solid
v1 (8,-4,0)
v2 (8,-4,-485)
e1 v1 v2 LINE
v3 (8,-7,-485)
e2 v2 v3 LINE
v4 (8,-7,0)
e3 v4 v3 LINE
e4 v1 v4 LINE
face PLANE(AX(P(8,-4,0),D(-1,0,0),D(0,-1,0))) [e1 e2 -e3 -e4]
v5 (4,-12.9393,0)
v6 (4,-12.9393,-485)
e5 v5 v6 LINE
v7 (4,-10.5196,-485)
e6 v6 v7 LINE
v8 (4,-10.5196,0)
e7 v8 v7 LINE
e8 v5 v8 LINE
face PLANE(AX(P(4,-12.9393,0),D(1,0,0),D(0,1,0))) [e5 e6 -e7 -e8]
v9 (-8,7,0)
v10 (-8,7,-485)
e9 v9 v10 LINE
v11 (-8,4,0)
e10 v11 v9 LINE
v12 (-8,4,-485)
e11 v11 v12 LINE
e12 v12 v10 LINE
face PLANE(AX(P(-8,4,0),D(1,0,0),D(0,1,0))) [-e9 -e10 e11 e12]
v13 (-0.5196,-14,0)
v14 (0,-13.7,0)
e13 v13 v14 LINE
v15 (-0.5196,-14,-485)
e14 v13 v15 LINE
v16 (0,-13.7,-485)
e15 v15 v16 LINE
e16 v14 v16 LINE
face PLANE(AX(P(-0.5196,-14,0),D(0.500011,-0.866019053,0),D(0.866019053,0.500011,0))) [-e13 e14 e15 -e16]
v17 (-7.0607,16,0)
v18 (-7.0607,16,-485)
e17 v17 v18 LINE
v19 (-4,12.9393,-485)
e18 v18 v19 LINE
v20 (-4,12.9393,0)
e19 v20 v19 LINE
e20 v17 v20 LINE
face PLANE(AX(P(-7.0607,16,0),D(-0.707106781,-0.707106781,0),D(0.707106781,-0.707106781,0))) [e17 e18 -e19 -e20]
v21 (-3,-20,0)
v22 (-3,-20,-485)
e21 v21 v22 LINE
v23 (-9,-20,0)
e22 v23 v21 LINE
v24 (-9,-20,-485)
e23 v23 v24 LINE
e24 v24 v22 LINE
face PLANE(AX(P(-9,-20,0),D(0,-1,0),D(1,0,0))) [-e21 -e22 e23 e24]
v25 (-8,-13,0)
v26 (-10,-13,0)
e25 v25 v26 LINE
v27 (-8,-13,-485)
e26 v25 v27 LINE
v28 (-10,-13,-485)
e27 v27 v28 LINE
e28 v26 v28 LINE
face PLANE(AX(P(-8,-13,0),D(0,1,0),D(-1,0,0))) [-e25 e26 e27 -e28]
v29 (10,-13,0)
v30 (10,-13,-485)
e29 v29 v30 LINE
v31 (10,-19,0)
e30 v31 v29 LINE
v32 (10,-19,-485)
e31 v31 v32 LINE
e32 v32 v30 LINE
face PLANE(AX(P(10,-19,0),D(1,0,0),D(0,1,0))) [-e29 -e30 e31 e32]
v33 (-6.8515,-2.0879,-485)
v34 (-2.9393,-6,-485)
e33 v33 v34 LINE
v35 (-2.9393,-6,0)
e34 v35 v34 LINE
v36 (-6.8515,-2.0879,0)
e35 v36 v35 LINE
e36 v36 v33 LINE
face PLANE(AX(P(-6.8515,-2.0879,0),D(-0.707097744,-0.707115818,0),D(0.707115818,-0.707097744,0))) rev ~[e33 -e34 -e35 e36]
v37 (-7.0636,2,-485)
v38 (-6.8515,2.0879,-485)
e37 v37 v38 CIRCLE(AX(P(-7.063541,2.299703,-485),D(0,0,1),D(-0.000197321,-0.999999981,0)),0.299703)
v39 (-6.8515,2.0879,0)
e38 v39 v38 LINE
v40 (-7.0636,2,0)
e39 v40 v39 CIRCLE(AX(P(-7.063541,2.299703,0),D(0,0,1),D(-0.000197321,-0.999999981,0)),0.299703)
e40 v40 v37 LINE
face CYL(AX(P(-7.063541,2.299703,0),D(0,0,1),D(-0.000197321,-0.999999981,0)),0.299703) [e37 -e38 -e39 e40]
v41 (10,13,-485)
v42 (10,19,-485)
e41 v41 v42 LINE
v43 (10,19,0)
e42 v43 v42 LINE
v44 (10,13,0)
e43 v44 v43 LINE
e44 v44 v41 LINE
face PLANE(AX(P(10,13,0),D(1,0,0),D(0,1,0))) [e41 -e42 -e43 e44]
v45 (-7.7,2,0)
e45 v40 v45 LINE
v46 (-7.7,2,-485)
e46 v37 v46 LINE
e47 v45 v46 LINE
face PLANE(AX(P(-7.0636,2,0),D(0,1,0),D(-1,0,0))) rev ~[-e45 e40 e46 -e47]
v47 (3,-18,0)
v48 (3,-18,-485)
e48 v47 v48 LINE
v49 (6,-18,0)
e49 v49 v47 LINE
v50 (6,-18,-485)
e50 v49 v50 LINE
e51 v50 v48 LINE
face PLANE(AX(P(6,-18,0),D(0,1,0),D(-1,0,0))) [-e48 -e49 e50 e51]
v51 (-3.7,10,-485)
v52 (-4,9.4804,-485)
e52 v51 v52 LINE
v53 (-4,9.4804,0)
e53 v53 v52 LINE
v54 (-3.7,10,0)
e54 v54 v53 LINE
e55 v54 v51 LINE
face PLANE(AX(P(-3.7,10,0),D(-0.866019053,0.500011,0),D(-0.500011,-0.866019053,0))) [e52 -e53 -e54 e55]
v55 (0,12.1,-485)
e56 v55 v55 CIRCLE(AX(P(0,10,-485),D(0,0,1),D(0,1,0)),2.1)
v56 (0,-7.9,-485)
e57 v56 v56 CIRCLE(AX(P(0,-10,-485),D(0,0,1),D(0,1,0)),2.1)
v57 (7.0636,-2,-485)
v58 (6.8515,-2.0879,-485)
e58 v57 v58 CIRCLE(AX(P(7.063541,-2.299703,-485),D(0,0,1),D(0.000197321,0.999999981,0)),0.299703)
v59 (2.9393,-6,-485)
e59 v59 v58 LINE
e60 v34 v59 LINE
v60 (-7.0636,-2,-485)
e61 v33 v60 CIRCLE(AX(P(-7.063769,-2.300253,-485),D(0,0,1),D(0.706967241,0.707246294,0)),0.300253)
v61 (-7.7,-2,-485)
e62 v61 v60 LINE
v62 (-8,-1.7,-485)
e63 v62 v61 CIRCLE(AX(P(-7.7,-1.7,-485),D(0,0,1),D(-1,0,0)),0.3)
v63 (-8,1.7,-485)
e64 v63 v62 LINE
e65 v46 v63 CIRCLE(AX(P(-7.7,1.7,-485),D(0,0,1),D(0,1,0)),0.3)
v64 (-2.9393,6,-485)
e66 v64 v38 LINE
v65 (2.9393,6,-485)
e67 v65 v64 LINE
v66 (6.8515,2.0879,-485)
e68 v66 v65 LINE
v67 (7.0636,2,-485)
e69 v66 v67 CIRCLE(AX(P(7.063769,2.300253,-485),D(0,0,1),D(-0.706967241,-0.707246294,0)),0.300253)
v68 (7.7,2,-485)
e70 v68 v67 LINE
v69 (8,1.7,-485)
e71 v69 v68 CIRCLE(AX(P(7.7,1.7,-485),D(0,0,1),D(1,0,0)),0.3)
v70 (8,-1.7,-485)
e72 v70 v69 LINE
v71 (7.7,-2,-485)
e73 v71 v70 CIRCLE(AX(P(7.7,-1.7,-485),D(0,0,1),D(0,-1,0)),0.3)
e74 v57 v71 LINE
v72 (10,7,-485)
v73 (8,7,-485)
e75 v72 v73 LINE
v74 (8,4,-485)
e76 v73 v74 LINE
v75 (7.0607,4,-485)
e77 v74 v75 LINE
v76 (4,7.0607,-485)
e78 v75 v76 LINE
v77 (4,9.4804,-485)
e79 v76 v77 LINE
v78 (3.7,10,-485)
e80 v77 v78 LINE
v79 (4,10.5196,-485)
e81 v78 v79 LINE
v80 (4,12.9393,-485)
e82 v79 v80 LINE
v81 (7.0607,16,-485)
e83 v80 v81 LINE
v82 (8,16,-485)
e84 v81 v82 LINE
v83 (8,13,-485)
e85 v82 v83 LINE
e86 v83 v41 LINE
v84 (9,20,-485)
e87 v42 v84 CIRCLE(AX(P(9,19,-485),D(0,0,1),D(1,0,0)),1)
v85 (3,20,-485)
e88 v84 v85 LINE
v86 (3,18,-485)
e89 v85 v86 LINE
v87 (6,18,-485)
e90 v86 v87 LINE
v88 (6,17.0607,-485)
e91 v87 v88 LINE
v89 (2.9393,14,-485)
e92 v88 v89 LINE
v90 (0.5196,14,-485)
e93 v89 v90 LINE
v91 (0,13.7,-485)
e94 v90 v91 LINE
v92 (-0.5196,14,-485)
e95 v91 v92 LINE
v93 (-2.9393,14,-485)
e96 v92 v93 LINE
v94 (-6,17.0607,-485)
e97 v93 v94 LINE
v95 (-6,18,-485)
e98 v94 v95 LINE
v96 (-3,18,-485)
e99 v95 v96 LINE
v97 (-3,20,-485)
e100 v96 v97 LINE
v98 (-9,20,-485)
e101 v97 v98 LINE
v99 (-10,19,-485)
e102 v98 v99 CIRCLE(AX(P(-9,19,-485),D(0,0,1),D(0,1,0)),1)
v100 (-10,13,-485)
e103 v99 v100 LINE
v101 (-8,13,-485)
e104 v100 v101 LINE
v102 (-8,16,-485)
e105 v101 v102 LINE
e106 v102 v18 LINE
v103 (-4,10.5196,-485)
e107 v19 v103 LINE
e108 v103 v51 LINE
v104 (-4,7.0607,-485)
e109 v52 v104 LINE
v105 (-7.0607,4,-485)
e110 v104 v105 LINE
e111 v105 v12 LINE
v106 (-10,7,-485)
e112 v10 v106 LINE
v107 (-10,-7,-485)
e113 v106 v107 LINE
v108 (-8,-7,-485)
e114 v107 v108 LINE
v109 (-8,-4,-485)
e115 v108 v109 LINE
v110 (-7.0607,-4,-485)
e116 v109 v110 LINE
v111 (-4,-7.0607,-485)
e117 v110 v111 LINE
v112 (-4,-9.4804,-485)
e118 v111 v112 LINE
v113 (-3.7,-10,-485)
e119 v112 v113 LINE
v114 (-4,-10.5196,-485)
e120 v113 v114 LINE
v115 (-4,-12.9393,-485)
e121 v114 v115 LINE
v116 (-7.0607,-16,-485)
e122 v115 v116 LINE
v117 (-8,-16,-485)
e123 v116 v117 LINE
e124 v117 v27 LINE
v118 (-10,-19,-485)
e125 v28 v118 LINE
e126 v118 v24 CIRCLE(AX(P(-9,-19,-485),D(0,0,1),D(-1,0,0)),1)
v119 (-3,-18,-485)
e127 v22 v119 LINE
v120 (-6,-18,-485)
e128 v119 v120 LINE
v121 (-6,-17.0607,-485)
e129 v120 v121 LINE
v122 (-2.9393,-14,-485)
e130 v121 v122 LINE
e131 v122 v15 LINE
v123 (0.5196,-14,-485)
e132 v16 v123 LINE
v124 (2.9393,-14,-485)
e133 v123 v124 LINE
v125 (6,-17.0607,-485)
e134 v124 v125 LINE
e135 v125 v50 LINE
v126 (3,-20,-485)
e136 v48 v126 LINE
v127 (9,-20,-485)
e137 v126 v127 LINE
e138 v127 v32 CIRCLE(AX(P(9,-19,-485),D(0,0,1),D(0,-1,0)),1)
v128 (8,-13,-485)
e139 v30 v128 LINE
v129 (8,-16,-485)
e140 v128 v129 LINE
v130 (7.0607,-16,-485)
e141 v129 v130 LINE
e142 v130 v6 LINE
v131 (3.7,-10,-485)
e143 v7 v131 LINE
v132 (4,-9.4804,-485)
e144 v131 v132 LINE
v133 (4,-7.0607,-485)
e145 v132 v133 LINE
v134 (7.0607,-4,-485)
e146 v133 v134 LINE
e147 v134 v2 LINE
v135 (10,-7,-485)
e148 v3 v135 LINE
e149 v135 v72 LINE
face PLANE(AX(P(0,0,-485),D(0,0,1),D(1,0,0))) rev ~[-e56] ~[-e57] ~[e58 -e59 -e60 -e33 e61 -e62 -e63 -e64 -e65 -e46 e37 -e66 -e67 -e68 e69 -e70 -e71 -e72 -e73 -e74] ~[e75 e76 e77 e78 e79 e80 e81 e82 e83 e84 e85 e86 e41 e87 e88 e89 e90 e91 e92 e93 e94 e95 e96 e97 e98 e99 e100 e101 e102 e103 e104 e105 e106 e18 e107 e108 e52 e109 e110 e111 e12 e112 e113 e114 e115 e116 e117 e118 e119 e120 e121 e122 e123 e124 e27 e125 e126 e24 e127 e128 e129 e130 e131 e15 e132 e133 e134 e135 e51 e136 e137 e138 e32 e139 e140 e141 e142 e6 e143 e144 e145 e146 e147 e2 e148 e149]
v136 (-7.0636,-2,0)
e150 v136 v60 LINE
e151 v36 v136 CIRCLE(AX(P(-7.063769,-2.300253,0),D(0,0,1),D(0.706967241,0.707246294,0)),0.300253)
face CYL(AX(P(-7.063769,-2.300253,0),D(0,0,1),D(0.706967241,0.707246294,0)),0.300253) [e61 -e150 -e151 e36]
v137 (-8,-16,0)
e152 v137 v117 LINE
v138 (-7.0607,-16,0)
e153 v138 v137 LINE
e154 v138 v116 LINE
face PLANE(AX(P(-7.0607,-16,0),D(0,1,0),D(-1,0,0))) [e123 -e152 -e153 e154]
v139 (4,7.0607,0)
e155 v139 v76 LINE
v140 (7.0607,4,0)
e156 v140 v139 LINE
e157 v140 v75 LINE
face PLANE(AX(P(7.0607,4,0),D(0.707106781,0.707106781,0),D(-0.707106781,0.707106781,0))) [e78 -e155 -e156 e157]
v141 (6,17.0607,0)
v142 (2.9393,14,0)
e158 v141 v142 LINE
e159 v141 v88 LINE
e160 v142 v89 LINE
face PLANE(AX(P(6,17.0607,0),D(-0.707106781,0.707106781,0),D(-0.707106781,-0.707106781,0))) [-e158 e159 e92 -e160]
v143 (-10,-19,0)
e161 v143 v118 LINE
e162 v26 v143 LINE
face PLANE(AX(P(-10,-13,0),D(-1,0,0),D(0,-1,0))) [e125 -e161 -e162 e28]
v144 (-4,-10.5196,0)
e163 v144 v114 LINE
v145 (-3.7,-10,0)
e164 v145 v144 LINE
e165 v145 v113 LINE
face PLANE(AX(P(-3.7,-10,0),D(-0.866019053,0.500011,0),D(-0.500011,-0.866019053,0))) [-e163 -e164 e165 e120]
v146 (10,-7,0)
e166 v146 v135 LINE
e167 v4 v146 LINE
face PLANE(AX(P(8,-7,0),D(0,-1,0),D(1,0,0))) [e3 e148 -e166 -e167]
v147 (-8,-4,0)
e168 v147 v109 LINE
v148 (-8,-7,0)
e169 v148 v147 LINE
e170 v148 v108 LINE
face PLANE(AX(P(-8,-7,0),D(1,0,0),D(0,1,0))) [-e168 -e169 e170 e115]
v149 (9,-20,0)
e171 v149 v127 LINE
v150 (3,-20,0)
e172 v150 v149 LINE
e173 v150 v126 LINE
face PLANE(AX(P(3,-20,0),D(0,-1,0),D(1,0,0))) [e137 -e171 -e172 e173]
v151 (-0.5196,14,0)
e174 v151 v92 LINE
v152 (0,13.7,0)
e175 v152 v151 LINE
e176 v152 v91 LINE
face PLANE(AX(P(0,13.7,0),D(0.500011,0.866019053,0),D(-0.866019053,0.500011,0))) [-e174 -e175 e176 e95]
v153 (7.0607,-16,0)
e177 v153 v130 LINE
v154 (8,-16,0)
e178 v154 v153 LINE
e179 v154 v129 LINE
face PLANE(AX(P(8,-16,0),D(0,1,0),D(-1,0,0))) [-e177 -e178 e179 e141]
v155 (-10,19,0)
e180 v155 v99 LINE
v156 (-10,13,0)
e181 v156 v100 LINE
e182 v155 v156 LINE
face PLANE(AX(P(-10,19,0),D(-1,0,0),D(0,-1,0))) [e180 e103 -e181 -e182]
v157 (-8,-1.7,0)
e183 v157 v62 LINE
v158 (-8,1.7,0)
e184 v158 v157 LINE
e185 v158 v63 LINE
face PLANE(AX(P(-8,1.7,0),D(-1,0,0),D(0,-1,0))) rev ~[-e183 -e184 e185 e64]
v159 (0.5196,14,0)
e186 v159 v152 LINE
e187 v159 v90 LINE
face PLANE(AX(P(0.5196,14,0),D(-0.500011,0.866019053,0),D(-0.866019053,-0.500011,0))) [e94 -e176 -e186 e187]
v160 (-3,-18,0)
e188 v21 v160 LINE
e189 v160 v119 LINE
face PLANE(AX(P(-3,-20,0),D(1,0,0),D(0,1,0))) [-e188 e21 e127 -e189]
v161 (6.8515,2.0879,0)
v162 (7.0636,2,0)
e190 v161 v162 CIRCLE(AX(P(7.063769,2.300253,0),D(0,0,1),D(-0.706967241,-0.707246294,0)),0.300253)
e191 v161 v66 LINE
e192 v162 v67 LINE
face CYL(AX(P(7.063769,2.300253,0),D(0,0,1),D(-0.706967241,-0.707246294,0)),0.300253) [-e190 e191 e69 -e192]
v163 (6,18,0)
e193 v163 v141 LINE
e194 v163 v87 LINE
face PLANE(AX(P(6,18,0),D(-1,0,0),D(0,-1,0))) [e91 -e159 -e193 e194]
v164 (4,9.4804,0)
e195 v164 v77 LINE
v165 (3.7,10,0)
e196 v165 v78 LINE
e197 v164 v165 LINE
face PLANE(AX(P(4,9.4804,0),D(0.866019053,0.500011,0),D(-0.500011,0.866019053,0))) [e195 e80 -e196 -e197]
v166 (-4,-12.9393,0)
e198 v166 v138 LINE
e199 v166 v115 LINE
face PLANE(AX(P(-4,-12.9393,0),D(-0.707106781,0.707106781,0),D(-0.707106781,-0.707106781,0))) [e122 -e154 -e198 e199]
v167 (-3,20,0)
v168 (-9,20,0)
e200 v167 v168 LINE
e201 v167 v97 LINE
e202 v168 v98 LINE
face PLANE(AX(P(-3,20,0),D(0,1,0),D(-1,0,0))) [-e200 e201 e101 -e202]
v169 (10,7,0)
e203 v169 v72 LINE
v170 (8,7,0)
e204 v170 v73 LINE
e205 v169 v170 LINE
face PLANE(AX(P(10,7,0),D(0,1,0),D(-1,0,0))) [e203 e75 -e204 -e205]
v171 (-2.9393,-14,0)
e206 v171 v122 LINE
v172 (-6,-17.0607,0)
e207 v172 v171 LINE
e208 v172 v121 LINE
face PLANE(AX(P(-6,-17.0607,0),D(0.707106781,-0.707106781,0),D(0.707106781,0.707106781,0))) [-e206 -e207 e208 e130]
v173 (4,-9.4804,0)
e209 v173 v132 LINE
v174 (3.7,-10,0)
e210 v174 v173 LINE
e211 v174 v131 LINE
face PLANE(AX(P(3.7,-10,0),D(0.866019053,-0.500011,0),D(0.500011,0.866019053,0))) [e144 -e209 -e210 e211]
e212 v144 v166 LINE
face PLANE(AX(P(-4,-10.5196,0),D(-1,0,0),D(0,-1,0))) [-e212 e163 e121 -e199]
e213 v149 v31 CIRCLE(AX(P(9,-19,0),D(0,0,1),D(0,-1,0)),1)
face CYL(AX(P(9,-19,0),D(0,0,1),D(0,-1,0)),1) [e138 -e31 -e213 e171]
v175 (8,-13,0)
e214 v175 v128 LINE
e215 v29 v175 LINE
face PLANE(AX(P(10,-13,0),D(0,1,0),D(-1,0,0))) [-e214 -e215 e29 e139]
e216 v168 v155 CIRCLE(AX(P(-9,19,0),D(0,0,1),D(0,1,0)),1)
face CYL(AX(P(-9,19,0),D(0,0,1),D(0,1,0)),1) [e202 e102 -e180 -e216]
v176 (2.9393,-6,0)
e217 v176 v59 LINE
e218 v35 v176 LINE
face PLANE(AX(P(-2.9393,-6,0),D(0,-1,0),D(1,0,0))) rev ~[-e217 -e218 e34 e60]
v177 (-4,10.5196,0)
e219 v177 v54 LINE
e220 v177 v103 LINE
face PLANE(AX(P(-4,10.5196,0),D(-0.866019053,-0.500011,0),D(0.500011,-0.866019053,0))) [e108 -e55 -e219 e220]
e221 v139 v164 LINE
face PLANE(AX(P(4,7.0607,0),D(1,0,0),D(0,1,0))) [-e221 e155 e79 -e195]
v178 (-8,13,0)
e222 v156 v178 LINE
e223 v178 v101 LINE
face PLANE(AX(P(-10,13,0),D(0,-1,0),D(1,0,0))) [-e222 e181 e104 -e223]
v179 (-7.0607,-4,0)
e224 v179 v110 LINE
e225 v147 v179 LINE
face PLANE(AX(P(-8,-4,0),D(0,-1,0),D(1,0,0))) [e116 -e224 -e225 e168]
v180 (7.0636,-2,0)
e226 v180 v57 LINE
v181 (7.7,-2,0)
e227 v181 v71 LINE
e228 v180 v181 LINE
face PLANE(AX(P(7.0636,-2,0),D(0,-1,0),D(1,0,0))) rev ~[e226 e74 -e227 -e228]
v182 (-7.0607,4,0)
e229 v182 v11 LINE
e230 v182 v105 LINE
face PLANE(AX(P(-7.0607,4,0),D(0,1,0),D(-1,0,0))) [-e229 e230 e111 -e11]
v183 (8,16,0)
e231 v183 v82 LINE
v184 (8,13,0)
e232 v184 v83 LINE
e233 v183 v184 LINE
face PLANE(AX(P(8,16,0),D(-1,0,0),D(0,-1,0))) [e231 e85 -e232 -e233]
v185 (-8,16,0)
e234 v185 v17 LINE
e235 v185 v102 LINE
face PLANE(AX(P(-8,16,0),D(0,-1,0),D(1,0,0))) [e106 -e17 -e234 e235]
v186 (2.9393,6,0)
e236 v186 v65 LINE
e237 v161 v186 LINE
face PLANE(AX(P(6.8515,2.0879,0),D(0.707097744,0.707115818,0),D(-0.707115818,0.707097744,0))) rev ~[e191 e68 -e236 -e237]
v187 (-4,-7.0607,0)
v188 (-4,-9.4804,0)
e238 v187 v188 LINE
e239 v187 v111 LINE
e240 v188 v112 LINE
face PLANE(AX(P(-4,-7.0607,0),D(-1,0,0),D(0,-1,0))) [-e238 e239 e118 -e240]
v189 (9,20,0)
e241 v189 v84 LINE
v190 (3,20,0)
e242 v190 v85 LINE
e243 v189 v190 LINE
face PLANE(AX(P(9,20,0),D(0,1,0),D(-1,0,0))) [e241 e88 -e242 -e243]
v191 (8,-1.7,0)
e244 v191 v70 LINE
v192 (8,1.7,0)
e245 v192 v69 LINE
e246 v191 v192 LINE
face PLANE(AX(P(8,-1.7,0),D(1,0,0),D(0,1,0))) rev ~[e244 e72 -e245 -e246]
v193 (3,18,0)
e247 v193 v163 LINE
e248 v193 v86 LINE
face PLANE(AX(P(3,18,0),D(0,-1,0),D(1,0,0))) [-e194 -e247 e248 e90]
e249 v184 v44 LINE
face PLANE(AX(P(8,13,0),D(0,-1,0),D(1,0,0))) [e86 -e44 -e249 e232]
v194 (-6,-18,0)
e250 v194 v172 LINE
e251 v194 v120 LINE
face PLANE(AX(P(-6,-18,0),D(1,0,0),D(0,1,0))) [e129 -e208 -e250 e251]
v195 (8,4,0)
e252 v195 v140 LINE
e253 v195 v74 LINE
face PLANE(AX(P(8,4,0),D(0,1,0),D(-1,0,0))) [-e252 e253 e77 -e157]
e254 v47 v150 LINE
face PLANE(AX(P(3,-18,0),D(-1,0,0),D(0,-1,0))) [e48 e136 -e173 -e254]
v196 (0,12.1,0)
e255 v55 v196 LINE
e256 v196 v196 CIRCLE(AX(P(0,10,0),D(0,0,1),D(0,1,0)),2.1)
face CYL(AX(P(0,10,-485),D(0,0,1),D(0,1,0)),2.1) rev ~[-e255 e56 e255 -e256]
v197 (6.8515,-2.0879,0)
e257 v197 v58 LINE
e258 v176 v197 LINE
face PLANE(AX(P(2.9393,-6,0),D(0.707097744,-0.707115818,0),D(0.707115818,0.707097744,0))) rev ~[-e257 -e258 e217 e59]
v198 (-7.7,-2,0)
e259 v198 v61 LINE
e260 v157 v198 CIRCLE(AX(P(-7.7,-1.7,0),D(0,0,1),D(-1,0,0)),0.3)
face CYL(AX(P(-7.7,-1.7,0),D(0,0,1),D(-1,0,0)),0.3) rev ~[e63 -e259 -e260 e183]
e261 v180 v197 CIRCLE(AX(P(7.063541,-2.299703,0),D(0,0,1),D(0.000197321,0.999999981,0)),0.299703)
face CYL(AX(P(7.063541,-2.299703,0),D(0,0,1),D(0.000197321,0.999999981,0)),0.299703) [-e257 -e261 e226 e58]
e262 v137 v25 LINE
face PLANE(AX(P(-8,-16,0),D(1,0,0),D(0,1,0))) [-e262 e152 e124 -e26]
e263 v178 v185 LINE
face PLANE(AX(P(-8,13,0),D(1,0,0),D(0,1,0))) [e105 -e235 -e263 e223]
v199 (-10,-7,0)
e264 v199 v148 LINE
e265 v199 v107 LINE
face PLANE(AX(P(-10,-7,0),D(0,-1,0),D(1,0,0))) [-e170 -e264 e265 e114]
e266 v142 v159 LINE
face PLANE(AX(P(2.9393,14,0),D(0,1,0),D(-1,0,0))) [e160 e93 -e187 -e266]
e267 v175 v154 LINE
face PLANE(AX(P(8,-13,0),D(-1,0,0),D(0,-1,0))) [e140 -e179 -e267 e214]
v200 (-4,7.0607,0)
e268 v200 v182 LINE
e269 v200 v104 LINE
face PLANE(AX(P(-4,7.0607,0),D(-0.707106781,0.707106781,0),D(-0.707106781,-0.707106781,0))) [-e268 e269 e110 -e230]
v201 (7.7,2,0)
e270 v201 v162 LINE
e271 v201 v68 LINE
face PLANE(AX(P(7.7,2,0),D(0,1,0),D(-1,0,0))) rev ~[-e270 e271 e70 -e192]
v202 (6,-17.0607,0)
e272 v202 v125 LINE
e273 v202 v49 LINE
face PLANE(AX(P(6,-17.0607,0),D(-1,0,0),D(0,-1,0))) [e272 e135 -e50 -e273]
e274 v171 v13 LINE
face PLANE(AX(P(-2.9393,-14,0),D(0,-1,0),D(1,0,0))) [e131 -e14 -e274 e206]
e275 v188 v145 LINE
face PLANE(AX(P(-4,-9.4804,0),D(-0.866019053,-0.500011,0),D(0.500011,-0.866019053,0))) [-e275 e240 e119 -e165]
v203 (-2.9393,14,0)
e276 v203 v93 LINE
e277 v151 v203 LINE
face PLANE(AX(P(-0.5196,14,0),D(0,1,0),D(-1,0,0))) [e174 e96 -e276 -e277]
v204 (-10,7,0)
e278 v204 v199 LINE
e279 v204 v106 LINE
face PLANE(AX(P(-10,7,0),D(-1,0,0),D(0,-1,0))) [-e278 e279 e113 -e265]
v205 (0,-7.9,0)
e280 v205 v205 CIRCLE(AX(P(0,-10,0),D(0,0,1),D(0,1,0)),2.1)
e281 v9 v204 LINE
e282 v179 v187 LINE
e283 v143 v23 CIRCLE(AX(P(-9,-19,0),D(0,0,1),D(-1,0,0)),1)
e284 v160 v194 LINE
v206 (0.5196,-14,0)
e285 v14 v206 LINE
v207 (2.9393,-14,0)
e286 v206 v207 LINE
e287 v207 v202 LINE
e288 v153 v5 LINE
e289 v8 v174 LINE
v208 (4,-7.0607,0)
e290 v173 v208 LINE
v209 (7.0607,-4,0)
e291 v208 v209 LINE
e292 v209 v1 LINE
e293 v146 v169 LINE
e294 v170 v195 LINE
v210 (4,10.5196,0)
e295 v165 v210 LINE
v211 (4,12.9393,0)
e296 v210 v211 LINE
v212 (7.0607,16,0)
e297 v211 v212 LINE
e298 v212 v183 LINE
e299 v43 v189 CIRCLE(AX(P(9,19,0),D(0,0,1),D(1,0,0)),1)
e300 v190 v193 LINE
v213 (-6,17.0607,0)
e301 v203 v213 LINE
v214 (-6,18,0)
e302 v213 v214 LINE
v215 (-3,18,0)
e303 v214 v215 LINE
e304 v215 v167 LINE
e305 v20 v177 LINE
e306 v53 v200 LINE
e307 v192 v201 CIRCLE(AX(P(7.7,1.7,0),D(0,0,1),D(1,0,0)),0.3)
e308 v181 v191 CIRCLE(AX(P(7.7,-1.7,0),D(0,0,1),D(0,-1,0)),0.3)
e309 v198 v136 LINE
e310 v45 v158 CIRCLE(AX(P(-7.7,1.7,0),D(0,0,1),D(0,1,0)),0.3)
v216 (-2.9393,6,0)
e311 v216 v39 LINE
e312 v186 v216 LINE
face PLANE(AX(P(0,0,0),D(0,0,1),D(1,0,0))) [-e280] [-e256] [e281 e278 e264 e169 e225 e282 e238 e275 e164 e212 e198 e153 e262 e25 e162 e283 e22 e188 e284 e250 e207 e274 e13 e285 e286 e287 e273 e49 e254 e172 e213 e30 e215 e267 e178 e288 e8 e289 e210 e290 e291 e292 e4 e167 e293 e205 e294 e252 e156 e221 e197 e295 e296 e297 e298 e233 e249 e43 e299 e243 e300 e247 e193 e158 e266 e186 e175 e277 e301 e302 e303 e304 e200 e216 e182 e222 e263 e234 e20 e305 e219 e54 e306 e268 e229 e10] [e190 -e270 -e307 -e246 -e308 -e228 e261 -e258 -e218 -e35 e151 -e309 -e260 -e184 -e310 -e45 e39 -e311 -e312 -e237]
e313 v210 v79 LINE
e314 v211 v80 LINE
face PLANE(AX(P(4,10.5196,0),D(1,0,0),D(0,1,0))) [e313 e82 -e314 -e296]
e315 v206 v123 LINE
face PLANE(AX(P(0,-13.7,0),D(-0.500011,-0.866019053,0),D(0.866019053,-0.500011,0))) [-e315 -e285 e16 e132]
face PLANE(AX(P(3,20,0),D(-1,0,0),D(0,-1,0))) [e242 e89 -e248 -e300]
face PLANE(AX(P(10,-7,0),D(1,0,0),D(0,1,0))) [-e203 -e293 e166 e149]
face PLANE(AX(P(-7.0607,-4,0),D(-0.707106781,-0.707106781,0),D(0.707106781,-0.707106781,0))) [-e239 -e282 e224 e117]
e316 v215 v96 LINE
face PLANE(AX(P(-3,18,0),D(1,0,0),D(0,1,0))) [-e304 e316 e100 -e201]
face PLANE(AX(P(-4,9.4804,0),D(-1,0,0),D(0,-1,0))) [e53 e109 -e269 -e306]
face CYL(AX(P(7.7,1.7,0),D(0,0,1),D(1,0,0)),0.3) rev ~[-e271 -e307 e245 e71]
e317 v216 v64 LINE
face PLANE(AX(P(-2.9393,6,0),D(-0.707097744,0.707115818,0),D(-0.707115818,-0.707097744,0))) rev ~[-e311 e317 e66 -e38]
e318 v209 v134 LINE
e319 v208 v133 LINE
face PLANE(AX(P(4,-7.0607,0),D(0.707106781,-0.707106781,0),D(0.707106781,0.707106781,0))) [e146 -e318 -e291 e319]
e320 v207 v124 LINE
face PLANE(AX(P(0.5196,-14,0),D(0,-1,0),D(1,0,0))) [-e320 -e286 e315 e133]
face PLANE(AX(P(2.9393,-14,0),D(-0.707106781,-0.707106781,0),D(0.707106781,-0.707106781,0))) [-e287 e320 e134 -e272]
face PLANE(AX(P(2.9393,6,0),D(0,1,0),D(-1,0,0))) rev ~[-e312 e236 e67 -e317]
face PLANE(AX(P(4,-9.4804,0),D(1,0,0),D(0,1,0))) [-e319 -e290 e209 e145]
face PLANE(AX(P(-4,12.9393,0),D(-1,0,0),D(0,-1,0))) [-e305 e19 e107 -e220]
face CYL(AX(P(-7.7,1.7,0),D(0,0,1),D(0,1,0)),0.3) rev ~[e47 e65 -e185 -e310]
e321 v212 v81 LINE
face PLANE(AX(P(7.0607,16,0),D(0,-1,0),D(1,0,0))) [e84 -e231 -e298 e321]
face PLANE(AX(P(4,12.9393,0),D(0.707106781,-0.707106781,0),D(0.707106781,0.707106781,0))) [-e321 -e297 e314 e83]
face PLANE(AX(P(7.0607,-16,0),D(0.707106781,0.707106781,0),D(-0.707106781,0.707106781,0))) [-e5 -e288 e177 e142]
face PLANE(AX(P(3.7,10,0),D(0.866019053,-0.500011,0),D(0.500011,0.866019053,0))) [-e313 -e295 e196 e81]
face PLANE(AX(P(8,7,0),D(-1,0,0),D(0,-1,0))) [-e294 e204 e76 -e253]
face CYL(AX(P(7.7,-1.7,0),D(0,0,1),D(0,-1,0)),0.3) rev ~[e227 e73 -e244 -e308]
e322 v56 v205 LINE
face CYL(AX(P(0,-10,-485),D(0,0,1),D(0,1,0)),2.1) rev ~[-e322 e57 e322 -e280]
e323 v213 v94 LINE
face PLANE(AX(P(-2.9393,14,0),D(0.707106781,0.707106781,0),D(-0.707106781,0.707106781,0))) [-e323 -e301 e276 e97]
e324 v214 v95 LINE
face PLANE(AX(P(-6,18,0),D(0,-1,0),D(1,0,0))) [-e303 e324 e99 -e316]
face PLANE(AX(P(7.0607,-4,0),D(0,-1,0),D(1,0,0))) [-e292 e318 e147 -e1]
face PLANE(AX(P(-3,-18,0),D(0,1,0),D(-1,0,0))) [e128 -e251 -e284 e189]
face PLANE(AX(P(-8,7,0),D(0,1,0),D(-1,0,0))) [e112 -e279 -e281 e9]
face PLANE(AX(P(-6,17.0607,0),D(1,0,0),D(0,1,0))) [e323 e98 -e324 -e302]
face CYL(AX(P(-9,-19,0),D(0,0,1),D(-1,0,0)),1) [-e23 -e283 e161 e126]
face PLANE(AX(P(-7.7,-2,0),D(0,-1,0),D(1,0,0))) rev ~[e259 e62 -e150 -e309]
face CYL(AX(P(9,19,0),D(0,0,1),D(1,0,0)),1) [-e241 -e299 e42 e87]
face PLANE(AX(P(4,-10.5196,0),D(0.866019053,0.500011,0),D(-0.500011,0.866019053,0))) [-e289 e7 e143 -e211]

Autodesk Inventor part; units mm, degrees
sketch "Sketch_1" plane through (0, 0, 0) normal (0, 0, 1) x (1, 0, 0)
  line L0 (-10, -7) -> (-8, -7)
  line L1 (-8, -7) -> (-8, -4)
  line L2 (-8, -4) -> (-7.0607, -4)
  line L3 (-7.0607, -4) -> (-4, -7.0607)
  line L4 (-4, -7.0607) -> (-4, -9.4804)
  line L5 (-4, -9.4804) -> (-3.7, -10)
  line L6 (-3.7, -10) -> (-4, -10.5196)
  line L7 (-4, -10.5196) -> (-4, -12.9393)
  line L8 (-4, -12.9393) -> (-7.0607, -16)
  line L9 (-7.0607, -16) -> (-8, -16)
  line L10 (-8, -16) -> (-8, -13)
  line L11 (-8, -13) -> (-10, -13)
  line L12 (-10, -13) -> (-10, -19)
  arc A0 (-10, -19) -> (-9, -20) centre (-9, -19) ccw
  line L13 (-9, -20) -> (-3, -20)
  line L14 (-3, -20) -> (-3, -18)
  line L15 (-3, -18) -> (-6, -18)
  line L16 (-6, -18) -> (-6, -17.0607)
  line L17 (-6, -17.0607) -> (-2.9393, -14)
  line L18 (-2.9393, -14) -> (-0.5196, -14)
  line L19 (-0.5196, -14) -> (0, -13.7)
  line L20 (0, -13.7) -> (0.5196, -14)
  line L21 (0.5196, -14) -> (2.9393, -14)
  line L22 (2.9393, -14) -> (6, -17.0607)
  line L23 (6, -17.0607) -> (6, -18)
  line L24 (6, -18) -> (3, -18)
  line L25 (3, -18) -> (3, -20)
  line L26 (3, -20) -> (9, -20)
  arc A1 (9, -20) -> (10, -19) centre (9, -19) ccw
  line L27 (10, -19) -> (10, -13)
  line L28 (10, -13) -> (8, -13)
  line L29 (8, -13) -> (8, -16)
  line L30 (8, -16) -> (7.0607, -16)
  line L31 (7.0607, -16) -> (4, -12.9393)
  line L32 (4, -12.9393) -> (4, -10.5196)
  line L33 (4, -10.5196) -> (3.7, -10)
  line L34 (3.7, -10) -> (4, -9.4804)
  line L35 (4, -9.4804) -> (4, -7.0607)
  line L36 (4, -7.0607) -> (7.0607, -4)
  line L37 (7.0607, -4) -> (8, -4)
  line L38 (8, -4) -> (8, -7)
  line L39 (8, -7) -> (10, -7)
  line L40 (10, -7) -> (10, 7)
  line L41 (10, 7) -> (8, 7)
  line L42 (8, 7) -> (8, 4)
  line L43 (8, 4) -> (7.0607, 4)
  line L44 (7.0607, 4) -> (4, 7.0607)
  line L45 (4, 7.0607) -> (4, 9.4804)
  line L46 (4, 9.4804) -> (3.7, 10)
  line L47 (3.7, 10) -> (4, 10.5196)
  line L48 (4, 10.5196) -> (4, 12.9393)
  line L49 (4, 12.9393) -> (7.0607, 16)
  line L50 (7.0607, 16) -> (8, 16)
  line L51 (8, 16) -> (8, 13)
  line L52 (8, 13) -> (10, 13)
  line L53 (10, 13) -> (10, 19)
  arc A2 (10, 19) -> (9, 20) centre (9, 19) ccw
  line L54 (9, 20) -> (3, 20)
  line L55 (3, 20) -> (3, 18)
  line L56 (3, 18) -> (6, 18)
  line L57 (6, 18) -> (6, 17.0607)
  line L58 (6, 17.0607) -> (2.9393, 14)
  line L59 (2.9393, 14) -> (0.5196, 14)
  line L60 (0.5196, 14) -> (0, 13.7)
  line L61 (0, 13.7) -> (-0.5196, 14)
  line L62 (-0.5196, 14) -> (-2.9393, 14)
  line L63 (-2.9393, 14) -> (-6, 17.0607)
  line L64 (-6, 17.0607) -> (-6, 18)
  line L65 (-6, 18) -> (-3, 18)
  line L66 (-3, 18) -> (-3, 20)
  line L67 (-3, 20) -> (-9, 20)
  arc A3 (-9, 20) -> (-10, 19) centre (-9, 19) ccw
  line L68 (-10, 19) -> (-10, 13)
  line L69 (-10, 13) -> (-8, 13)
  line L70 (-8, 13) -> (-8, 16)
  line L71 (-8, 16) -> (-7.0607, 16)
  line L72 (-7.0607, 16) -> (-4, 12.9393)
  line L73 (-4, 12.9393) -> (-4, 10.5196)
  line L74 (-4, 10.5196) -> (-3.7, 10)
  line L75 (-3.7, 10) -> (-4, 9.4804)
  line L76 (-4, 9.4804) -> (-4, 7.0607)
  line L77 (-4, 7.0607) -> (-7.0607, 4)
  line L78 (-7.0607, 4) -> (-8, 4)
  line L79 (-8, 4) -> (-8, 7)
  line L80 (-8, 7) -> (-10, 7)
  line L81 (-10, 7) -> (-10, -7)
  line L82 (-8, 1.7) -> (-8, -1.7)
  arc A4 (-8, -1.7) -> (-7.7, -2) centre (-7.7, -1.7) ccw
  line L83 (-7.7, -2) -> (-7.0636, -2)
  arc A5 (-6.8515, -2.0879) -> (-7.0636, -2) centre (-7.0636, -2.3) ccw
  line L84 (-6.8515, -2.0879) -> (-2.9393, -6)
  line L85 (-2.9393, -6) -> (2.9393, -6)
  line L86 (2.9393, -6) -> (6.8515, -2.0879)
  arc A6 (7.0636, -2) -> (6.8515, -2.0879) centre (7.0636, -2.3) ccw
  line L87 (7.0636, -2) -> (7.7, -2)
  arc A7 (7.7, -2) -> (8, -1.7) centre (7.7, -1.7) ccw
  line L88 (8, -1.7) -> (8, 1.7)
  arc A8 (8, 1.7) -> (7.7, 2) centre (7.7, 1.7) ccw
  line L89 (7.7, 2) -> (7.0636, 2)
  arc A9 (6.8515, 2.0879) -> (7.0636, 2) centre (7.0636, 2.3) ccw
  line L90 (6.8515, 2.0879) -> (2.9393, 6)
  line L91 (2.9393, 6) -> (-2.9393, 6)
  line L92 (-2.9393, 6) -> (-6.8515, 2.0879)
  arc A10 (-7.0636, 2) -> (-6.8515, 2.0879) centre (-7.0636, 2.3) ccw
  line L93 (-7.0636, 2) -> (-7.7, 2)
  arc A11 (-7.7, 2) -> (-8, 1.7) centre (-7.7, 1.7) ccw
extrude "Extrusion1" add sketch "Sketch_1" against normal blind 485
sketch "Sketch2" plane through (0, 0, -485) normal (0, 0, -1) x (-1, 0, 0)
  point P0 (0, 10)
hole "Hole1" at (0, 10, -485) direction (0, 0, 1) diameter 4.2 depth 485
pattern_linear "Rectangular Pattern1" count 2 spacing 20 along (0, -1, 0) of "Hole1"
ref_plane "C1_XY" through (0, 0, 0) normal (0, 0, 1) x (1, 0, 0)
ref_plane "C1_YZ" through (0, 0, 0) normal (1, 0, 0) x (0, 1, 0)
ref_plane "C1_ZX" through (0, 0, 0) normal (0, 1, 0) x (0, 0, 1)
properties part number "HFS5-2040-485"
